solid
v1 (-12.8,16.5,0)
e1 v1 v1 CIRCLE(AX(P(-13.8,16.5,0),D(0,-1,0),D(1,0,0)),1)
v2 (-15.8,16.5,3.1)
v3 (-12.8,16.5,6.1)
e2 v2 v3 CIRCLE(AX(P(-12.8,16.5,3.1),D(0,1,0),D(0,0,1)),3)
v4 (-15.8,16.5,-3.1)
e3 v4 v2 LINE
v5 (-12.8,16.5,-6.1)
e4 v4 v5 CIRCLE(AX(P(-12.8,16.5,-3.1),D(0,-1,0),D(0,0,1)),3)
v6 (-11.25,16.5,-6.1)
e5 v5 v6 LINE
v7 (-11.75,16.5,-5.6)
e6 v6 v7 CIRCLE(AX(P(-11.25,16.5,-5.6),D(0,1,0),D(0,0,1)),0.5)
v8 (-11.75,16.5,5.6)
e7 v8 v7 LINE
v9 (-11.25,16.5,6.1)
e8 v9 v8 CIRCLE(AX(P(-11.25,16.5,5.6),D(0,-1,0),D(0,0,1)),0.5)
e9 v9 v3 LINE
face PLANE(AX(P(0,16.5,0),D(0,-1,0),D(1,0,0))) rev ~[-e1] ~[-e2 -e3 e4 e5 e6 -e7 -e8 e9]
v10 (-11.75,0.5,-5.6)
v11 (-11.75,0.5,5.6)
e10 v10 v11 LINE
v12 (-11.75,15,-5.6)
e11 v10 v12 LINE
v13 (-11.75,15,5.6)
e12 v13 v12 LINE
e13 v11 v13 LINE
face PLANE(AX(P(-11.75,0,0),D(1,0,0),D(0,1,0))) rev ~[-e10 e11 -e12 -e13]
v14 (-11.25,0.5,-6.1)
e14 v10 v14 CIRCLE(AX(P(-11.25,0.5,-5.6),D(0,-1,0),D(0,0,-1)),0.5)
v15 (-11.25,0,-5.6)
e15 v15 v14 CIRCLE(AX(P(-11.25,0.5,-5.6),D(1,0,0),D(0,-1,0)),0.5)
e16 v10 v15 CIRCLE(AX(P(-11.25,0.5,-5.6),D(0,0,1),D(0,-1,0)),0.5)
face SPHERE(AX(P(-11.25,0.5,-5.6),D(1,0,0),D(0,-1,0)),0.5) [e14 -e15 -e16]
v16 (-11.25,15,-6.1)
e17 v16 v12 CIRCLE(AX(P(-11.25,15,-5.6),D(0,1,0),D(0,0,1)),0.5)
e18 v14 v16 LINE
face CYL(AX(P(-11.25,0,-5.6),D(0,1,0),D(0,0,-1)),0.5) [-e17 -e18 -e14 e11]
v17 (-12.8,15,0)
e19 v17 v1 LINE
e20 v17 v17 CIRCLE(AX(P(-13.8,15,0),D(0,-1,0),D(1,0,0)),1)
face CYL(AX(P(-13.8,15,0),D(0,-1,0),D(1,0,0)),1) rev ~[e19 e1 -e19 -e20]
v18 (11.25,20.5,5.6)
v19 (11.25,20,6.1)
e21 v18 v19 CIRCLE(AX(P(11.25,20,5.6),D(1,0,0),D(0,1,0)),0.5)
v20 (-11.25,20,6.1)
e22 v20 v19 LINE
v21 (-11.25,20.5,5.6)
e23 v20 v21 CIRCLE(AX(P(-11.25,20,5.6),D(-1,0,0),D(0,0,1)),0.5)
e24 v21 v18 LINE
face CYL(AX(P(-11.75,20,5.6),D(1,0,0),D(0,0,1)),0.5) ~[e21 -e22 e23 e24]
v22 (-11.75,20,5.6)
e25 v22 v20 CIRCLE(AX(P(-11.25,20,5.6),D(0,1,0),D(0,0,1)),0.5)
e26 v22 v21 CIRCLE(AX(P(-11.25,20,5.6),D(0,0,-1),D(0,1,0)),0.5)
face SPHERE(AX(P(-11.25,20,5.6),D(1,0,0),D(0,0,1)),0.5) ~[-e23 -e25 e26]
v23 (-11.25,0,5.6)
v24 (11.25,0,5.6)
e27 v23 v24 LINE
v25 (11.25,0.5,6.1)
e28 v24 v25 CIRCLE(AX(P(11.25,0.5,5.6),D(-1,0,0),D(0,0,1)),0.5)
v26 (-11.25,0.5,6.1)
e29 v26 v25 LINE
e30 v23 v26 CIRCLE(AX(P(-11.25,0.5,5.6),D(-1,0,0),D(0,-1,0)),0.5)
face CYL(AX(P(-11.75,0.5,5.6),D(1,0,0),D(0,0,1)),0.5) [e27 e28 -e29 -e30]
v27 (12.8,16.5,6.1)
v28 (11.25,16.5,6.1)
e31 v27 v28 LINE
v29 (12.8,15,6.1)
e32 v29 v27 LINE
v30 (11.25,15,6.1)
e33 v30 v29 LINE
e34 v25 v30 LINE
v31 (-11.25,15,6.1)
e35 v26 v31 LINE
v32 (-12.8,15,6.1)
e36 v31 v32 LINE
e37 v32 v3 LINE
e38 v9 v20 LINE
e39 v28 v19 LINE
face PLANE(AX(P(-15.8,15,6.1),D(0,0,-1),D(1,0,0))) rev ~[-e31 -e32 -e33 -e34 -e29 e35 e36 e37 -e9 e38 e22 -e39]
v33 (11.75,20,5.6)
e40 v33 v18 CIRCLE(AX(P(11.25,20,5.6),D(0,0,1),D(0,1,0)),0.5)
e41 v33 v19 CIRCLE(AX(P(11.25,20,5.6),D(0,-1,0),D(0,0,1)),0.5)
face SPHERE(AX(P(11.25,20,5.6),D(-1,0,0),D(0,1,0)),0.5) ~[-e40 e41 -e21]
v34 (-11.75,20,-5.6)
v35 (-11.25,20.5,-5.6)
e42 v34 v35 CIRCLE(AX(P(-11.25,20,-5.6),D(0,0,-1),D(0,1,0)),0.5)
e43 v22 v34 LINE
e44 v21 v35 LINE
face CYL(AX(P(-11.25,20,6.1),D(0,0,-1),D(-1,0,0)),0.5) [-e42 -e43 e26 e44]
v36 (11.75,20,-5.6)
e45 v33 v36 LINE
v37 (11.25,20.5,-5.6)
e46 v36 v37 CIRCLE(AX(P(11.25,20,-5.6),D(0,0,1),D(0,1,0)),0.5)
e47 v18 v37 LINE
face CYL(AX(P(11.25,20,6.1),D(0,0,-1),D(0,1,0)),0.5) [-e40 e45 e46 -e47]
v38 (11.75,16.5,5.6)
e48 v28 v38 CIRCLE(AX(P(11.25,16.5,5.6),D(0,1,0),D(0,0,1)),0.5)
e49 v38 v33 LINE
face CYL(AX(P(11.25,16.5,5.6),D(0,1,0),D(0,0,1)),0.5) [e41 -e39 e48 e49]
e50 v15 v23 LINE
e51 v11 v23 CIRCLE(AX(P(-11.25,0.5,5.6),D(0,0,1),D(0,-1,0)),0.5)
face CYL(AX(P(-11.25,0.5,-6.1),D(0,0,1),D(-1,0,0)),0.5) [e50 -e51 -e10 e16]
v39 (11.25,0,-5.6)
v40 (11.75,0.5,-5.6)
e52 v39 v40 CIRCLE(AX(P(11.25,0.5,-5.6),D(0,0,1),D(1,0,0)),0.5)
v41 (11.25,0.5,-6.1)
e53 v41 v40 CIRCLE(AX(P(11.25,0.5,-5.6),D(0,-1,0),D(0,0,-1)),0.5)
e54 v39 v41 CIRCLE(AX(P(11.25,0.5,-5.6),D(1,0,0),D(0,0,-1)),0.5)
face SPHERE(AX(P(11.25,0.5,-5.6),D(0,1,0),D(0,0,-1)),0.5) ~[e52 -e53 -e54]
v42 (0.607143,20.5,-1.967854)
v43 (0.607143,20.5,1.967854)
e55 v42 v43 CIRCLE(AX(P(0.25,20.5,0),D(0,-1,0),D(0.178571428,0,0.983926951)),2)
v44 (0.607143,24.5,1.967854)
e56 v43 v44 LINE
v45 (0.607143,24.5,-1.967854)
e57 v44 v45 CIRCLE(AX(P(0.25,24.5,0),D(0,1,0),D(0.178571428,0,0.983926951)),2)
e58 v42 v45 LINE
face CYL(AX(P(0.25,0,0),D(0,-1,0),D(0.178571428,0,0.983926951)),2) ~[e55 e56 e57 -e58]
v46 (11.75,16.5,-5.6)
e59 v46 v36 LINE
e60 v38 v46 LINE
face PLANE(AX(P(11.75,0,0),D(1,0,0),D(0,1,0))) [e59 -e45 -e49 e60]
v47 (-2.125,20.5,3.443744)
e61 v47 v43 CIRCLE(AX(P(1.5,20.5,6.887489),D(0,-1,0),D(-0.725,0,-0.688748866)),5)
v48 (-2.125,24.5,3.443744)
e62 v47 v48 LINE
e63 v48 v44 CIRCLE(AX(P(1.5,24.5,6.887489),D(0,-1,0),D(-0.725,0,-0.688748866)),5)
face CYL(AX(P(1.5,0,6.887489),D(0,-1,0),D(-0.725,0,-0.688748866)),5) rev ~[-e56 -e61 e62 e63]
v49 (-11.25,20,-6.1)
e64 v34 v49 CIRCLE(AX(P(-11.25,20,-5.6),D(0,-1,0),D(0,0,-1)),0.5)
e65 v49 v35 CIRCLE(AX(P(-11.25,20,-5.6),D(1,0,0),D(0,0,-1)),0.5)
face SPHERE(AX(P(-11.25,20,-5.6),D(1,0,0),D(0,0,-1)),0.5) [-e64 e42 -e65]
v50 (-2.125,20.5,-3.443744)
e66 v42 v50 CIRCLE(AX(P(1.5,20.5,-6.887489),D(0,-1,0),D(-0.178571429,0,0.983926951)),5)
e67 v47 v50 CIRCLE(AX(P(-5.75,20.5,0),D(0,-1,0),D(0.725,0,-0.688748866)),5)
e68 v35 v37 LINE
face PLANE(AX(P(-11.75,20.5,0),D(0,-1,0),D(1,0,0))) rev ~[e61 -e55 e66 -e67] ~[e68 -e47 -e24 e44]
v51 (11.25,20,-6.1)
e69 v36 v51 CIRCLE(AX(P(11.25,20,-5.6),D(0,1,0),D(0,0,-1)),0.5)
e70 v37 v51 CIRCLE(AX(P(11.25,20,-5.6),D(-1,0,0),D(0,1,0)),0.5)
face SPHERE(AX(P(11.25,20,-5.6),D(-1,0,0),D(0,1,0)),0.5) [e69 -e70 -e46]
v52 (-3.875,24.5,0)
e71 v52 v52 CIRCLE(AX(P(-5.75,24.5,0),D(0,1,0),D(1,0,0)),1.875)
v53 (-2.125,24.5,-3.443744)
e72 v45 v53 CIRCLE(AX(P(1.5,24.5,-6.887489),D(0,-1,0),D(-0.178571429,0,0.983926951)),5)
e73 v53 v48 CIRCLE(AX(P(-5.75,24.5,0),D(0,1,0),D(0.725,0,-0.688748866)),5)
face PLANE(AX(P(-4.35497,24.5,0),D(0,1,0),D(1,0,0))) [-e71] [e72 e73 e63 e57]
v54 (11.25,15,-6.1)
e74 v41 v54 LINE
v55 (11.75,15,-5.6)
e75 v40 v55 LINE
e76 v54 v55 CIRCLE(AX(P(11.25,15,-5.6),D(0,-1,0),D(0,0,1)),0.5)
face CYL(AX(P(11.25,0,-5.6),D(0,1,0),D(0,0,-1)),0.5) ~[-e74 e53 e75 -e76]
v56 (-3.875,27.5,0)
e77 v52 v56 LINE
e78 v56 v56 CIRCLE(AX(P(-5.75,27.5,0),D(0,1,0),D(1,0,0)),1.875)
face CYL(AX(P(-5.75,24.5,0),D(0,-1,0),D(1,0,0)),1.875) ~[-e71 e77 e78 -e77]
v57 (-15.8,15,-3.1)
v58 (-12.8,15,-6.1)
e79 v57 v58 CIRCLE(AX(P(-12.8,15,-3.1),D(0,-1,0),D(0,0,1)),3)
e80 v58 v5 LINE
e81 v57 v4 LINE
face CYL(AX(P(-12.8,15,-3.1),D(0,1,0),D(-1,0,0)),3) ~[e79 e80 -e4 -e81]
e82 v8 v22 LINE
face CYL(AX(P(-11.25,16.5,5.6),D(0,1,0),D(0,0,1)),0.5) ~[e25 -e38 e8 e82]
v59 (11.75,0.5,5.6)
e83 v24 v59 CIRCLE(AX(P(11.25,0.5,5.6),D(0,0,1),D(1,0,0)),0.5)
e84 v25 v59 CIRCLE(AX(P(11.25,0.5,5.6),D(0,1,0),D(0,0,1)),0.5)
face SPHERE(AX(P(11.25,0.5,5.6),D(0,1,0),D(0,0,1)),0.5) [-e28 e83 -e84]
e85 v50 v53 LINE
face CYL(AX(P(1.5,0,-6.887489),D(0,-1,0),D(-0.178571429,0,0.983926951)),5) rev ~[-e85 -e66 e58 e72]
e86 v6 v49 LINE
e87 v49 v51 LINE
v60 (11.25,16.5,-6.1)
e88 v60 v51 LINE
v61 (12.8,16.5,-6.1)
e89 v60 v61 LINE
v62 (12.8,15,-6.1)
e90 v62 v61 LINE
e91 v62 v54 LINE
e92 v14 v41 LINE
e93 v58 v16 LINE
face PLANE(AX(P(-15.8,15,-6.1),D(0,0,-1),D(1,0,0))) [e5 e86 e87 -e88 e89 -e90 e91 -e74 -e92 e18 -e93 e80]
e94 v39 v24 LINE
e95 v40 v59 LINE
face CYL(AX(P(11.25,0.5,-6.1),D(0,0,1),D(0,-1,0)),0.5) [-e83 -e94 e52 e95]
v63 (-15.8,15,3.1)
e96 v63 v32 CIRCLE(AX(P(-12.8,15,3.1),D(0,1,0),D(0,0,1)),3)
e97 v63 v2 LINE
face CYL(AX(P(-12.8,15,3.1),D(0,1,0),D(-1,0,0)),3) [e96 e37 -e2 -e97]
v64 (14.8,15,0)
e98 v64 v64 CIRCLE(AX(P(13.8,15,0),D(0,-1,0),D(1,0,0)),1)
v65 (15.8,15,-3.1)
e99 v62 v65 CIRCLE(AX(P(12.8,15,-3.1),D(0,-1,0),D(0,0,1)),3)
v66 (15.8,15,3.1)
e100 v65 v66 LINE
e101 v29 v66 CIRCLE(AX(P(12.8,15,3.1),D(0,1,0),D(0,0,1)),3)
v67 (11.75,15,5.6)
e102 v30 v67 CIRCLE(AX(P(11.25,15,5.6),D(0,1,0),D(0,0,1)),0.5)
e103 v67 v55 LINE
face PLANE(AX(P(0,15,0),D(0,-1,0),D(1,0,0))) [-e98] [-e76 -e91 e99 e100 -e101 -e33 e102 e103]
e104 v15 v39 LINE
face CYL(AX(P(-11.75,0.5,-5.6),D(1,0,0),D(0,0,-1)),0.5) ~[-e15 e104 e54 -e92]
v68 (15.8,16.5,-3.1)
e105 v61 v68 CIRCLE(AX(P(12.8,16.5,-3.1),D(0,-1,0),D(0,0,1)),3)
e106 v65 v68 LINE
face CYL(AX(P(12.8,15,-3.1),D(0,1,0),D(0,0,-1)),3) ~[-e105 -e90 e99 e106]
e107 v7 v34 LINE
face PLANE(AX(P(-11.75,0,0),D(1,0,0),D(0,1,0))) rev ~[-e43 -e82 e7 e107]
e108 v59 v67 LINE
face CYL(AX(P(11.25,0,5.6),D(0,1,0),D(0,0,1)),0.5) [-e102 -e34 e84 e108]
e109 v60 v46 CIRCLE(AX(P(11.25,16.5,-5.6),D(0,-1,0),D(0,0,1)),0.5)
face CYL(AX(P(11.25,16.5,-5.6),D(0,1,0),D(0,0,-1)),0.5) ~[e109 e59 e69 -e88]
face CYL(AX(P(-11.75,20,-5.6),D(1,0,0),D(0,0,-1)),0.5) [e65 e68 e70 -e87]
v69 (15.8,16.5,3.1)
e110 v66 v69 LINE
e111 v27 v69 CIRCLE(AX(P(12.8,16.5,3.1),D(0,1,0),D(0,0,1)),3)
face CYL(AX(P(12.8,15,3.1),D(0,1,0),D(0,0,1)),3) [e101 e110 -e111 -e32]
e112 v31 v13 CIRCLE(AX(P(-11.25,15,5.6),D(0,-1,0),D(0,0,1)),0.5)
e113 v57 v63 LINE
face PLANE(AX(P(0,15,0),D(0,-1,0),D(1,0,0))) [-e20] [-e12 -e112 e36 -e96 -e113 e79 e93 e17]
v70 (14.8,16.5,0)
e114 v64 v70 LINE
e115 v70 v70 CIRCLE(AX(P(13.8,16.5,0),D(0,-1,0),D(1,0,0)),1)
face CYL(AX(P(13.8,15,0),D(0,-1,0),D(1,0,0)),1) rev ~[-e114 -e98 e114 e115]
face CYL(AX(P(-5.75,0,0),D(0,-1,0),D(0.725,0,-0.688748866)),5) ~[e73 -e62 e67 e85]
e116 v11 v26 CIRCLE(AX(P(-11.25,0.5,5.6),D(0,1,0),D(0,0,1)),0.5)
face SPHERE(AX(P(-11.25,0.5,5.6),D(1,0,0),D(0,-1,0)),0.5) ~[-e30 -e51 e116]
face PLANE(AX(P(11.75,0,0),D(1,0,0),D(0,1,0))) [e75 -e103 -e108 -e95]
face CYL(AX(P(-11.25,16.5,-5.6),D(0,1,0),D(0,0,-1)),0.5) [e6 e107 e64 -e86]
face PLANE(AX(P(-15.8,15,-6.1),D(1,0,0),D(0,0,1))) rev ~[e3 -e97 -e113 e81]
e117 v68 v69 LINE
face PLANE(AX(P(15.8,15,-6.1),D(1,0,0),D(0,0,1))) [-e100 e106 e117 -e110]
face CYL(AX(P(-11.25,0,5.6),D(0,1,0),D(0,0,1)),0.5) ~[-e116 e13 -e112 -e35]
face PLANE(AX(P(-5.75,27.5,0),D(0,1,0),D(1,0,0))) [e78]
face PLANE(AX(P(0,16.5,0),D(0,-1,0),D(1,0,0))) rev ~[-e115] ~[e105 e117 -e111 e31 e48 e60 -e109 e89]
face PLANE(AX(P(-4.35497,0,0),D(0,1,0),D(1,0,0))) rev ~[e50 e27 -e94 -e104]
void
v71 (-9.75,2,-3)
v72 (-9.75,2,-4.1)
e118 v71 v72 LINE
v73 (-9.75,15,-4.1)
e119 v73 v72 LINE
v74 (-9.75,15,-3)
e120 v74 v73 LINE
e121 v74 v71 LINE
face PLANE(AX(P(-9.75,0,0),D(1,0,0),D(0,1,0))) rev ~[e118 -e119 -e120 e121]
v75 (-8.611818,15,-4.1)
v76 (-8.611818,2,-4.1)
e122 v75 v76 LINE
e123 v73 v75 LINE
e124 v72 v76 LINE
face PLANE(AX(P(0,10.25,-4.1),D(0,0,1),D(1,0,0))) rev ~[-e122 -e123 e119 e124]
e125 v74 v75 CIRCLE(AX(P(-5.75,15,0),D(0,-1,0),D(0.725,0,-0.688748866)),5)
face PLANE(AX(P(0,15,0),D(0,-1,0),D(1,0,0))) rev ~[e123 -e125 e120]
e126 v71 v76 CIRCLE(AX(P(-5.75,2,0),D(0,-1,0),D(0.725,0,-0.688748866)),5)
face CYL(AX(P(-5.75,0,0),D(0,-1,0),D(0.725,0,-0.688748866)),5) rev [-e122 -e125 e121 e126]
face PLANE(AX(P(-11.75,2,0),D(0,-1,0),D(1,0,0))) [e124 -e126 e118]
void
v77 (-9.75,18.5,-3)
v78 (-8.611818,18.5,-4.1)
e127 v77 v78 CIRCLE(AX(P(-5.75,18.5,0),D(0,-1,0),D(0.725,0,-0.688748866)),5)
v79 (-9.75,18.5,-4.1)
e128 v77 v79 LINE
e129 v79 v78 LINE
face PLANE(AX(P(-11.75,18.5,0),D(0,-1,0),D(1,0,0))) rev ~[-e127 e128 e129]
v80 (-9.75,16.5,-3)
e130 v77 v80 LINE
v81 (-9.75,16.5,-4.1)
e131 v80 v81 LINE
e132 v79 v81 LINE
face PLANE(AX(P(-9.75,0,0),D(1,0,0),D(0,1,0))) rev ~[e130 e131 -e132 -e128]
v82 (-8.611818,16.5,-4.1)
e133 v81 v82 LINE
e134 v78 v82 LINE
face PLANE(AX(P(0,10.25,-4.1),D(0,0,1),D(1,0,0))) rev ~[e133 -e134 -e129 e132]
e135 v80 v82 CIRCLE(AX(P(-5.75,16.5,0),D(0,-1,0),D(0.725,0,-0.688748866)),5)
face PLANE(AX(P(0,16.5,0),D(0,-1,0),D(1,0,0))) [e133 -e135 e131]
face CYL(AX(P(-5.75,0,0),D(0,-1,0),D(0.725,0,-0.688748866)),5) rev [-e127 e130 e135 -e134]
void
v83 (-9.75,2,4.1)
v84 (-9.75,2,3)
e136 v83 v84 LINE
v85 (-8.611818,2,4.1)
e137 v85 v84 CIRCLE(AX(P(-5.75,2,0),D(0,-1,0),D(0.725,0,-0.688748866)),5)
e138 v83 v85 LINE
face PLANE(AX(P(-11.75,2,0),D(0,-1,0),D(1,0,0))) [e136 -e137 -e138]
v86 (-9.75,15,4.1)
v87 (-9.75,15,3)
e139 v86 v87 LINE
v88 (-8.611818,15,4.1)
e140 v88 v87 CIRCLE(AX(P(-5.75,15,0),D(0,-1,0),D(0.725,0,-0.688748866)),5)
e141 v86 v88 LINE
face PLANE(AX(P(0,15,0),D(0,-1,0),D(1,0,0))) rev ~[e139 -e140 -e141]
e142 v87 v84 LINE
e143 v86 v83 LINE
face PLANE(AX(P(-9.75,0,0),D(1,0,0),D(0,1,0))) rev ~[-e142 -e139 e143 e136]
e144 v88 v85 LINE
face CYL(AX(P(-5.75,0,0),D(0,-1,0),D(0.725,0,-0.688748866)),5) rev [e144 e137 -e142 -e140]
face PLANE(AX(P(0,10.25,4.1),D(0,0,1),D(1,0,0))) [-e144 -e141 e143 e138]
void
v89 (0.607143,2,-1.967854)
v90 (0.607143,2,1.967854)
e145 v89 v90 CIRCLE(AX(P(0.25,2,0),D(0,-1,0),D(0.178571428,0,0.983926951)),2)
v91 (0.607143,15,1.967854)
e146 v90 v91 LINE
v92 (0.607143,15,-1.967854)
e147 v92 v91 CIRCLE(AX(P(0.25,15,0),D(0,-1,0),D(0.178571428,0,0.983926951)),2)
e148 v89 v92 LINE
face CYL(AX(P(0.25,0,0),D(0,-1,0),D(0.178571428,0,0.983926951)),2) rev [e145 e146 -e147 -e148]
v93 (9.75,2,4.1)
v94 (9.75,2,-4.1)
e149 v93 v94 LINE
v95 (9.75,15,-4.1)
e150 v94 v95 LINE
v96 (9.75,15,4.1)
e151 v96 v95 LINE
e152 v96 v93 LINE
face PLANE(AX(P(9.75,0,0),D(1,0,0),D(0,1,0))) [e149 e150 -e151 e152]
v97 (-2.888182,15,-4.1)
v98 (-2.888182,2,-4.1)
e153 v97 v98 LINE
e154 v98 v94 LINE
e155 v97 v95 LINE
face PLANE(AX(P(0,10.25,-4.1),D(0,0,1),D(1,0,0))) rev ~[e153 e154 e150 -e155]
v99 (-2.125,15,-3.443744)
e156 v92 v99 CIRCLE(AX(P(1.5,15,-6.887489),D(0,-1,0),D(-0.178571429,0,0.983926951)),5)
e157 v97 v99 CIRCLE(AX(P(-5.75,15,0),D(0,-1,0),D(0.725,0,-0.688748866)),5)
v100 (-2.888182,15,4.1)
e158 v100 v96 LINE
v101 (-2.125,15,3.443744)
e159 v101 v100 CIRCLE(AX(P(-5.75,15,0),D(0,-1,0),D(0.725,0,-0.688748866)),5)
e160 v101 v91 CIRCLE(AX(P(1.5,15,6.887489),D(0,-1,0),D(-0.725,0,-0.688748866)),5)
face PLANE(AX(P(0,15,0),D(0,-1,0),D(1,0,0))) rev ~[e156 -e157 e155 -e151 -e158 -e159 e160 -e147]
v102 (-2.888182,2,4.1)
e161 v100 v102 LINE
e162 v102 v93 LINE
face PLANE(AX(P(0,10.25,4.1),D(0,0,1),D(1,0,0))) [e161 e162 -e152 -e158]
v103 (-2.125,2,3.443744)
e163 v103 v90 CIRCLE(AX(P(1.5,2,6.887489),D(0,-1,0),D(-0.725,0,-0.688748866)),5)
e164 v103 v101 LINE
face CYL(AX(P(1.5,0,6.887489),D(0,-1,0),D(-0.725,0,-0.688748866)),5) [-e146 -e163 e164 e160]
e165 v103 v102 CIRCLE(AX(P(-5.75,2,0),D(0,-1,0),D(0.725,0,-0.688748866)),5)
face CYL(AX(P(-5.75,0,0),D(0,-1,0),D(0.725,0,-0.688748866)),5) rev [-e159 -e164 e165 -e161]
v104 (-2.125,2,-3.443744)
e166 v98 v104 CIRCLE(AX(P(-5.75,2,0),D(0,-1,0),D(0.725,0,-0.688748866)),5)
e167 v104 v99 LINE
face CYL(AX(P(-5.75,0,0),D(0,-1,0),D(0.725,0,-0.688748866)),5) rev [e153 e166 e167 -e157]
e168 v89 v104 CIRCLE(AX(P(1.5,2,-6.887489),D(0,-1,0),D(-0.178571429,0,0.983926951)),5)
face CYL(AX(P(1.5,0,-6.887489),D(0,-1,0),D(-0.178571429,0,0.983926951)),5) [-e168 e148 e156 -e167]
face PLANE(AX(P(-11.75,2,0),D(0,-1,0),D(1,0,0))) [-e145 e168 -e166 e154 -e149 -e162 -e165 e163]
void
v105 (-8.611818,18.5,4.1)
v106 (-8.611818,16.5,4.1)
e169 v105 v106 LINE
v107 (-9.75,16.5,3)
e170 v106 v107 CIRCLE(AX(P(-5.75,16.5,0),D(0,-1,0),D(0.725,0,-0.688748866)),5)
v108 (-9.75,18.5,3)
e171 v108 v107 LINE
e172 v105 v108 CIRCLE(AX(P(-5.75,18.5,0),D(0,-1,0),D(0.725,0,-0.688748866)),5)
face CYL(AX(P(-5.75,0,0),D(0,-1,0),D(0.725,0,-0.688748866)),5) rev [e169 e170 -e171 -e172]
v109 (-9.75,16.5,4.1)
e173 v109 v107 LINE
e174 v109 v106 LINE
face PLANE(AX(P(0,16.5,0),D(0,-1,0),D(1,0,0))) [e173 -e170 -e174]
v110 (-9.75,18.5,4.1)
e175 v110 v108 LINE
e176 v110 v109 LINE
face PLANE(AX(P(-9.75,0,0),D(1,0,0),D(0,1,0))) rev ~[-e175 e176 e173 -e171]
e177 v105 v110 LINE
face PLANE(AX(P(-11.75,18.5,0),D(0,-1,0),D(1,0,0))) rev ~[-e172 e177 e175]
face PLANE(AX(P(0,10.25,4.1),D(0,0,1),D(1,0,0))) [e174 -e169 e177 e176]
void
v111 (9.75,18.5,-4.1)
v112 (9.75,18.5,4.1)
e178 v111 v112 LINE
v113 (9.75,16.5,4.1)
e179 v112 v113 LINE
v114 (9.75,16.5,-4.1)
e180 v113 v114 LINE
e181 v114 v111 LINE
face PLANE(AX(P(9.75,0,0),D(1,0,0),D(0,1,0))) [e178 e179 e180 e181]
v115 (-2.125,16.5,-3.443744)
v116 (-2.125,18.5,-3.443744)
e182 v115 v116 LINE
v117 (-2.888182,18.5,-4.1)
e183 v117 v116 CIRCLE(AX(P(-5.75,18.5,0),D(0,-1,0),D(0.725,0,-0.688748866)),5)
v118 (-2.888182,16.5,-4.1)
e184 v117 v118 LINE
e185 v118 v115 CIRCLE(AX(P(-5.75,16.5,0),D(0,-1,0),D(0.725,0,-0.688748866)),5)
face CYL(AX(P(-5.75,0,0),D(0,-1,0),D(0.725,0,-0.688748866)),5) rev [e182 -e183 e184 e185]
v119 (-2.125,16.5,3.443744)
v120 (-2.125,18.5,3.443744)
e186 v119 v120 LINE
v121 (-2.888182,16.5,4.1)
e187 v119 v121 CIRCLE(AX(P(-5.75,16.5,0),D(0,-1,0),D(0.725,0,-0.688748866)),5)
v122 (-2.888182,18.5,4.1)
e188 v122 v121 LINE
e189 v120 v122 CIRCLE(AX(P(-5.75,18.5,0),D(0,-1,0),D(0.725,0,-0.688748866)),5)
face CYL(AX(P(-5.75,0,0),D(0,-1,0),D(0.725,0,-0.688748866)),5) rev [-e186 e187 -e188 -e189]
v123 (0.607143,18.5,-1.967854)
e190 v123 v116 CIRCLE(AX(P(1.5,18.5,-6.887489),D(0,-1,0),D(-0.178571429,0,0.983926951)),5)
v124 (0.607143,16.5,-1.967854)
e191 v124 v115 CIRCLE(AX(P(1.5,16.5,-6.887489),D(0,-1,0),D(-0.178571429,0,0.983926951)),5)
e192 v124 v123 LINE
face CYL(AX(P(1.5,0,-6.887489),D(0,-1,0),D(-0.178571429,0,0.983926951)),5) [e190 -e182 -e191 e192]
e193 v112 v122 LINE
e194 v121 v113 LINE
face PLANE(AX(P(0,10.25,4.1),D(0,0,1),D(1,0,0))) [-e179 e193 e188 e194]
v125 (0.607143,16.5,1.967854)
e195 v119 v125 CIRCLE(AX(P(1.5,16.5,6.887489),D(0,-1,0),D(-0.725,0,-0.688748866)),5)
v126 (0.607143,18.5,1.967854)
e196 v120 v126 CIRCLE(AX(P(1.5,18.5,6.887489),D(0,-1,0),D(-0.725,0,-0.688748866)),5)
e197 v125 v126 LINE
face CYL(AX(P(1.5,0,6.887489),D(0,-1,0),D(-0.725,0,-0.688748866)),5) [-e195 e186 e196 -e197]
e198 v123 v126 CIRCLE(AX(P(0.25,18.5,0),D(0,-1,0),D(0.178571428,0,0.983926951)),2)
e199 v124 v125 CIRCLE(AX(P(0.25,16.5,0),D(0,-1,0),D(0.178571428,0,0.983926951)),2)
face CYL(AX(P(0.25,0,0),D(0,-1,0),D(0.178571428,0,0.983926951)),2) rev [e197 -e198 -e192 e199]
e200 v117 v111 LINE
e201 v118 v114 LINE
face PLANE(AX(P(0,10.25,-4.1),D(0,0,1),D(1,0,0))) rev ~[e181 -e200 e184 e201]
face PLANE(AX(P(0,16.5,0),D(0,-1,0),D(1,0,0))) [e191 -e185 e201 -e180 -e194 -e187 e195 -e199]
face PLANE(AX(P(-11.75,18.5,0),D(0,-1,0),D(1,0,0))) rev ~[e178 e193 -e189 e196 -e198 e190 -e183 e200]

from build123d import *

# Parameters (mm, degrees)
ESQUISSE1_W        = 23.5
ESQUISSE1_H        = 20.5
CORPS_DEPTH        = 6.1
COQUE1_T           = 2
PIVOT_SORTIE_DEPTH = 24.5
ESQUISSE3_R        = 1.875
AXE_SORTIE_DEPTH   = 3
ESQUISSE4_W        = 31.6
ESQUISSE4_H        = 12.2
ESQUISSE4_R        = 1
MIP_MAP_DEPTH      = 1.5
CONG_1_R           = 3
CONG_2_R           = 0.5


with BuildPart() as part:
    # Esquisse1 → corps (new body, symmetric)
    with BuildSketch(Plane.XY):
        with Locations((0, 10.25)):
            Rectangle(ESQUISSE1_W, ESQUISSE1_H)
    extrude(amount=CORPS_DEPTH, both=True)

    # Coque1 (no face opened: a closed hollow body)
    add(offset(amount=-COQUE1_T, mode=Mode.PRIVATE), mode=Mode.SUBTRACT)

    # Esquisse2 → pivot_sortie (add)
    with BuildSketch(Plane(origin=(0, 0, 0), x_dir=(1, 0, 0), z_dir=(0, 1, 0))):
        with BuildLine():
            ThreePointArc((-2.125, 3.443744328), (-10.75, 0), (-2.125, -3.443744328))
            ThreePointArc((-2.125, -3.443744328), (-0.876409356, -2.488320716), (0.607142857, -1.967853902))
            ThreePointArc((0.607142857, -1.967853902), (2.25, 0), (0.607142857, 1.967853902))
            ThreePointArc((0.607142857, 1.967853902), (-0.876409356, 2.488320716), (-2.125, 3.443744328))
        make_face()
    extrude(amount=PIVOT_SORTIE_DEPTH)

    # Esquisse3 → axe_sortie (add)
    with BuildSketch(Plane(origin=(0, 24.5, 0), x_dir=(1, 0, 0), z_dir=(0, 1, 0))):
        with Locations((-5.75, 0)):
            Circle(ESQUISSE3_R)
    extrude(amount=AXE_SORTIE_DEPTH)

    # Esquisse4 → MIP_MAP (add)
    with BuildSketch(Plane.XZ.offset(-15)):
        Rectangle(ESQUISSE4_W, ESQUISSE4_H)
        with Locations((-13.8, 0)):
            Circle(ESQUISSE4_R, mode=Mode.SUBTRACT)
        with Locations((13.8, 0)):
            Circle(ESQUISSE4_R, mode=Mode.SUBTRACT)
    extrude(amount=-MIP_MAP_DEPTH)

    # Congé1
    cong_1_edges = [part.edges().sort_by_distance(p)[0] for p in [
        (15.8, 15.75, -6.1),
        (-15.8, 15.75, 6.1),
        (15.8, 15.75, 6.1),
        (-15.8, 15.75, -6.1),
    ]]
    fillet(cong_1_edges, radius=CONG_1_R)

    # Congé2
    cong_2_edges = [part.edges().sort_by_distance(p)[0] for p in [
        (11.75, 7.5, 6.1),
        (0, 20.5, 6.1),
        (-11.75, 18.5, 6.1),
        (0, 20.5, -6.1),
        (11.75, 7.5, -6.1),
        (0, 0, -6.1),
        (-11.75, 18.5, -6.1),
        (0, 0, 6.1),
        (-11.75, 20.5, 0),
        (11.75, 20.5, 0),
        (11.75, 0, 0),
        (-11.75, 0, 0),
        (-11.75, 7.5, -6.1),
        (11.75, 18.5, -6.1),
        (-11.75, 7.5, 6.1),
        (11.75, 18.5, 6.1),
    ]]
    fillet(cong_2_edges, radius=CONG_2_R)


solid = part.part
